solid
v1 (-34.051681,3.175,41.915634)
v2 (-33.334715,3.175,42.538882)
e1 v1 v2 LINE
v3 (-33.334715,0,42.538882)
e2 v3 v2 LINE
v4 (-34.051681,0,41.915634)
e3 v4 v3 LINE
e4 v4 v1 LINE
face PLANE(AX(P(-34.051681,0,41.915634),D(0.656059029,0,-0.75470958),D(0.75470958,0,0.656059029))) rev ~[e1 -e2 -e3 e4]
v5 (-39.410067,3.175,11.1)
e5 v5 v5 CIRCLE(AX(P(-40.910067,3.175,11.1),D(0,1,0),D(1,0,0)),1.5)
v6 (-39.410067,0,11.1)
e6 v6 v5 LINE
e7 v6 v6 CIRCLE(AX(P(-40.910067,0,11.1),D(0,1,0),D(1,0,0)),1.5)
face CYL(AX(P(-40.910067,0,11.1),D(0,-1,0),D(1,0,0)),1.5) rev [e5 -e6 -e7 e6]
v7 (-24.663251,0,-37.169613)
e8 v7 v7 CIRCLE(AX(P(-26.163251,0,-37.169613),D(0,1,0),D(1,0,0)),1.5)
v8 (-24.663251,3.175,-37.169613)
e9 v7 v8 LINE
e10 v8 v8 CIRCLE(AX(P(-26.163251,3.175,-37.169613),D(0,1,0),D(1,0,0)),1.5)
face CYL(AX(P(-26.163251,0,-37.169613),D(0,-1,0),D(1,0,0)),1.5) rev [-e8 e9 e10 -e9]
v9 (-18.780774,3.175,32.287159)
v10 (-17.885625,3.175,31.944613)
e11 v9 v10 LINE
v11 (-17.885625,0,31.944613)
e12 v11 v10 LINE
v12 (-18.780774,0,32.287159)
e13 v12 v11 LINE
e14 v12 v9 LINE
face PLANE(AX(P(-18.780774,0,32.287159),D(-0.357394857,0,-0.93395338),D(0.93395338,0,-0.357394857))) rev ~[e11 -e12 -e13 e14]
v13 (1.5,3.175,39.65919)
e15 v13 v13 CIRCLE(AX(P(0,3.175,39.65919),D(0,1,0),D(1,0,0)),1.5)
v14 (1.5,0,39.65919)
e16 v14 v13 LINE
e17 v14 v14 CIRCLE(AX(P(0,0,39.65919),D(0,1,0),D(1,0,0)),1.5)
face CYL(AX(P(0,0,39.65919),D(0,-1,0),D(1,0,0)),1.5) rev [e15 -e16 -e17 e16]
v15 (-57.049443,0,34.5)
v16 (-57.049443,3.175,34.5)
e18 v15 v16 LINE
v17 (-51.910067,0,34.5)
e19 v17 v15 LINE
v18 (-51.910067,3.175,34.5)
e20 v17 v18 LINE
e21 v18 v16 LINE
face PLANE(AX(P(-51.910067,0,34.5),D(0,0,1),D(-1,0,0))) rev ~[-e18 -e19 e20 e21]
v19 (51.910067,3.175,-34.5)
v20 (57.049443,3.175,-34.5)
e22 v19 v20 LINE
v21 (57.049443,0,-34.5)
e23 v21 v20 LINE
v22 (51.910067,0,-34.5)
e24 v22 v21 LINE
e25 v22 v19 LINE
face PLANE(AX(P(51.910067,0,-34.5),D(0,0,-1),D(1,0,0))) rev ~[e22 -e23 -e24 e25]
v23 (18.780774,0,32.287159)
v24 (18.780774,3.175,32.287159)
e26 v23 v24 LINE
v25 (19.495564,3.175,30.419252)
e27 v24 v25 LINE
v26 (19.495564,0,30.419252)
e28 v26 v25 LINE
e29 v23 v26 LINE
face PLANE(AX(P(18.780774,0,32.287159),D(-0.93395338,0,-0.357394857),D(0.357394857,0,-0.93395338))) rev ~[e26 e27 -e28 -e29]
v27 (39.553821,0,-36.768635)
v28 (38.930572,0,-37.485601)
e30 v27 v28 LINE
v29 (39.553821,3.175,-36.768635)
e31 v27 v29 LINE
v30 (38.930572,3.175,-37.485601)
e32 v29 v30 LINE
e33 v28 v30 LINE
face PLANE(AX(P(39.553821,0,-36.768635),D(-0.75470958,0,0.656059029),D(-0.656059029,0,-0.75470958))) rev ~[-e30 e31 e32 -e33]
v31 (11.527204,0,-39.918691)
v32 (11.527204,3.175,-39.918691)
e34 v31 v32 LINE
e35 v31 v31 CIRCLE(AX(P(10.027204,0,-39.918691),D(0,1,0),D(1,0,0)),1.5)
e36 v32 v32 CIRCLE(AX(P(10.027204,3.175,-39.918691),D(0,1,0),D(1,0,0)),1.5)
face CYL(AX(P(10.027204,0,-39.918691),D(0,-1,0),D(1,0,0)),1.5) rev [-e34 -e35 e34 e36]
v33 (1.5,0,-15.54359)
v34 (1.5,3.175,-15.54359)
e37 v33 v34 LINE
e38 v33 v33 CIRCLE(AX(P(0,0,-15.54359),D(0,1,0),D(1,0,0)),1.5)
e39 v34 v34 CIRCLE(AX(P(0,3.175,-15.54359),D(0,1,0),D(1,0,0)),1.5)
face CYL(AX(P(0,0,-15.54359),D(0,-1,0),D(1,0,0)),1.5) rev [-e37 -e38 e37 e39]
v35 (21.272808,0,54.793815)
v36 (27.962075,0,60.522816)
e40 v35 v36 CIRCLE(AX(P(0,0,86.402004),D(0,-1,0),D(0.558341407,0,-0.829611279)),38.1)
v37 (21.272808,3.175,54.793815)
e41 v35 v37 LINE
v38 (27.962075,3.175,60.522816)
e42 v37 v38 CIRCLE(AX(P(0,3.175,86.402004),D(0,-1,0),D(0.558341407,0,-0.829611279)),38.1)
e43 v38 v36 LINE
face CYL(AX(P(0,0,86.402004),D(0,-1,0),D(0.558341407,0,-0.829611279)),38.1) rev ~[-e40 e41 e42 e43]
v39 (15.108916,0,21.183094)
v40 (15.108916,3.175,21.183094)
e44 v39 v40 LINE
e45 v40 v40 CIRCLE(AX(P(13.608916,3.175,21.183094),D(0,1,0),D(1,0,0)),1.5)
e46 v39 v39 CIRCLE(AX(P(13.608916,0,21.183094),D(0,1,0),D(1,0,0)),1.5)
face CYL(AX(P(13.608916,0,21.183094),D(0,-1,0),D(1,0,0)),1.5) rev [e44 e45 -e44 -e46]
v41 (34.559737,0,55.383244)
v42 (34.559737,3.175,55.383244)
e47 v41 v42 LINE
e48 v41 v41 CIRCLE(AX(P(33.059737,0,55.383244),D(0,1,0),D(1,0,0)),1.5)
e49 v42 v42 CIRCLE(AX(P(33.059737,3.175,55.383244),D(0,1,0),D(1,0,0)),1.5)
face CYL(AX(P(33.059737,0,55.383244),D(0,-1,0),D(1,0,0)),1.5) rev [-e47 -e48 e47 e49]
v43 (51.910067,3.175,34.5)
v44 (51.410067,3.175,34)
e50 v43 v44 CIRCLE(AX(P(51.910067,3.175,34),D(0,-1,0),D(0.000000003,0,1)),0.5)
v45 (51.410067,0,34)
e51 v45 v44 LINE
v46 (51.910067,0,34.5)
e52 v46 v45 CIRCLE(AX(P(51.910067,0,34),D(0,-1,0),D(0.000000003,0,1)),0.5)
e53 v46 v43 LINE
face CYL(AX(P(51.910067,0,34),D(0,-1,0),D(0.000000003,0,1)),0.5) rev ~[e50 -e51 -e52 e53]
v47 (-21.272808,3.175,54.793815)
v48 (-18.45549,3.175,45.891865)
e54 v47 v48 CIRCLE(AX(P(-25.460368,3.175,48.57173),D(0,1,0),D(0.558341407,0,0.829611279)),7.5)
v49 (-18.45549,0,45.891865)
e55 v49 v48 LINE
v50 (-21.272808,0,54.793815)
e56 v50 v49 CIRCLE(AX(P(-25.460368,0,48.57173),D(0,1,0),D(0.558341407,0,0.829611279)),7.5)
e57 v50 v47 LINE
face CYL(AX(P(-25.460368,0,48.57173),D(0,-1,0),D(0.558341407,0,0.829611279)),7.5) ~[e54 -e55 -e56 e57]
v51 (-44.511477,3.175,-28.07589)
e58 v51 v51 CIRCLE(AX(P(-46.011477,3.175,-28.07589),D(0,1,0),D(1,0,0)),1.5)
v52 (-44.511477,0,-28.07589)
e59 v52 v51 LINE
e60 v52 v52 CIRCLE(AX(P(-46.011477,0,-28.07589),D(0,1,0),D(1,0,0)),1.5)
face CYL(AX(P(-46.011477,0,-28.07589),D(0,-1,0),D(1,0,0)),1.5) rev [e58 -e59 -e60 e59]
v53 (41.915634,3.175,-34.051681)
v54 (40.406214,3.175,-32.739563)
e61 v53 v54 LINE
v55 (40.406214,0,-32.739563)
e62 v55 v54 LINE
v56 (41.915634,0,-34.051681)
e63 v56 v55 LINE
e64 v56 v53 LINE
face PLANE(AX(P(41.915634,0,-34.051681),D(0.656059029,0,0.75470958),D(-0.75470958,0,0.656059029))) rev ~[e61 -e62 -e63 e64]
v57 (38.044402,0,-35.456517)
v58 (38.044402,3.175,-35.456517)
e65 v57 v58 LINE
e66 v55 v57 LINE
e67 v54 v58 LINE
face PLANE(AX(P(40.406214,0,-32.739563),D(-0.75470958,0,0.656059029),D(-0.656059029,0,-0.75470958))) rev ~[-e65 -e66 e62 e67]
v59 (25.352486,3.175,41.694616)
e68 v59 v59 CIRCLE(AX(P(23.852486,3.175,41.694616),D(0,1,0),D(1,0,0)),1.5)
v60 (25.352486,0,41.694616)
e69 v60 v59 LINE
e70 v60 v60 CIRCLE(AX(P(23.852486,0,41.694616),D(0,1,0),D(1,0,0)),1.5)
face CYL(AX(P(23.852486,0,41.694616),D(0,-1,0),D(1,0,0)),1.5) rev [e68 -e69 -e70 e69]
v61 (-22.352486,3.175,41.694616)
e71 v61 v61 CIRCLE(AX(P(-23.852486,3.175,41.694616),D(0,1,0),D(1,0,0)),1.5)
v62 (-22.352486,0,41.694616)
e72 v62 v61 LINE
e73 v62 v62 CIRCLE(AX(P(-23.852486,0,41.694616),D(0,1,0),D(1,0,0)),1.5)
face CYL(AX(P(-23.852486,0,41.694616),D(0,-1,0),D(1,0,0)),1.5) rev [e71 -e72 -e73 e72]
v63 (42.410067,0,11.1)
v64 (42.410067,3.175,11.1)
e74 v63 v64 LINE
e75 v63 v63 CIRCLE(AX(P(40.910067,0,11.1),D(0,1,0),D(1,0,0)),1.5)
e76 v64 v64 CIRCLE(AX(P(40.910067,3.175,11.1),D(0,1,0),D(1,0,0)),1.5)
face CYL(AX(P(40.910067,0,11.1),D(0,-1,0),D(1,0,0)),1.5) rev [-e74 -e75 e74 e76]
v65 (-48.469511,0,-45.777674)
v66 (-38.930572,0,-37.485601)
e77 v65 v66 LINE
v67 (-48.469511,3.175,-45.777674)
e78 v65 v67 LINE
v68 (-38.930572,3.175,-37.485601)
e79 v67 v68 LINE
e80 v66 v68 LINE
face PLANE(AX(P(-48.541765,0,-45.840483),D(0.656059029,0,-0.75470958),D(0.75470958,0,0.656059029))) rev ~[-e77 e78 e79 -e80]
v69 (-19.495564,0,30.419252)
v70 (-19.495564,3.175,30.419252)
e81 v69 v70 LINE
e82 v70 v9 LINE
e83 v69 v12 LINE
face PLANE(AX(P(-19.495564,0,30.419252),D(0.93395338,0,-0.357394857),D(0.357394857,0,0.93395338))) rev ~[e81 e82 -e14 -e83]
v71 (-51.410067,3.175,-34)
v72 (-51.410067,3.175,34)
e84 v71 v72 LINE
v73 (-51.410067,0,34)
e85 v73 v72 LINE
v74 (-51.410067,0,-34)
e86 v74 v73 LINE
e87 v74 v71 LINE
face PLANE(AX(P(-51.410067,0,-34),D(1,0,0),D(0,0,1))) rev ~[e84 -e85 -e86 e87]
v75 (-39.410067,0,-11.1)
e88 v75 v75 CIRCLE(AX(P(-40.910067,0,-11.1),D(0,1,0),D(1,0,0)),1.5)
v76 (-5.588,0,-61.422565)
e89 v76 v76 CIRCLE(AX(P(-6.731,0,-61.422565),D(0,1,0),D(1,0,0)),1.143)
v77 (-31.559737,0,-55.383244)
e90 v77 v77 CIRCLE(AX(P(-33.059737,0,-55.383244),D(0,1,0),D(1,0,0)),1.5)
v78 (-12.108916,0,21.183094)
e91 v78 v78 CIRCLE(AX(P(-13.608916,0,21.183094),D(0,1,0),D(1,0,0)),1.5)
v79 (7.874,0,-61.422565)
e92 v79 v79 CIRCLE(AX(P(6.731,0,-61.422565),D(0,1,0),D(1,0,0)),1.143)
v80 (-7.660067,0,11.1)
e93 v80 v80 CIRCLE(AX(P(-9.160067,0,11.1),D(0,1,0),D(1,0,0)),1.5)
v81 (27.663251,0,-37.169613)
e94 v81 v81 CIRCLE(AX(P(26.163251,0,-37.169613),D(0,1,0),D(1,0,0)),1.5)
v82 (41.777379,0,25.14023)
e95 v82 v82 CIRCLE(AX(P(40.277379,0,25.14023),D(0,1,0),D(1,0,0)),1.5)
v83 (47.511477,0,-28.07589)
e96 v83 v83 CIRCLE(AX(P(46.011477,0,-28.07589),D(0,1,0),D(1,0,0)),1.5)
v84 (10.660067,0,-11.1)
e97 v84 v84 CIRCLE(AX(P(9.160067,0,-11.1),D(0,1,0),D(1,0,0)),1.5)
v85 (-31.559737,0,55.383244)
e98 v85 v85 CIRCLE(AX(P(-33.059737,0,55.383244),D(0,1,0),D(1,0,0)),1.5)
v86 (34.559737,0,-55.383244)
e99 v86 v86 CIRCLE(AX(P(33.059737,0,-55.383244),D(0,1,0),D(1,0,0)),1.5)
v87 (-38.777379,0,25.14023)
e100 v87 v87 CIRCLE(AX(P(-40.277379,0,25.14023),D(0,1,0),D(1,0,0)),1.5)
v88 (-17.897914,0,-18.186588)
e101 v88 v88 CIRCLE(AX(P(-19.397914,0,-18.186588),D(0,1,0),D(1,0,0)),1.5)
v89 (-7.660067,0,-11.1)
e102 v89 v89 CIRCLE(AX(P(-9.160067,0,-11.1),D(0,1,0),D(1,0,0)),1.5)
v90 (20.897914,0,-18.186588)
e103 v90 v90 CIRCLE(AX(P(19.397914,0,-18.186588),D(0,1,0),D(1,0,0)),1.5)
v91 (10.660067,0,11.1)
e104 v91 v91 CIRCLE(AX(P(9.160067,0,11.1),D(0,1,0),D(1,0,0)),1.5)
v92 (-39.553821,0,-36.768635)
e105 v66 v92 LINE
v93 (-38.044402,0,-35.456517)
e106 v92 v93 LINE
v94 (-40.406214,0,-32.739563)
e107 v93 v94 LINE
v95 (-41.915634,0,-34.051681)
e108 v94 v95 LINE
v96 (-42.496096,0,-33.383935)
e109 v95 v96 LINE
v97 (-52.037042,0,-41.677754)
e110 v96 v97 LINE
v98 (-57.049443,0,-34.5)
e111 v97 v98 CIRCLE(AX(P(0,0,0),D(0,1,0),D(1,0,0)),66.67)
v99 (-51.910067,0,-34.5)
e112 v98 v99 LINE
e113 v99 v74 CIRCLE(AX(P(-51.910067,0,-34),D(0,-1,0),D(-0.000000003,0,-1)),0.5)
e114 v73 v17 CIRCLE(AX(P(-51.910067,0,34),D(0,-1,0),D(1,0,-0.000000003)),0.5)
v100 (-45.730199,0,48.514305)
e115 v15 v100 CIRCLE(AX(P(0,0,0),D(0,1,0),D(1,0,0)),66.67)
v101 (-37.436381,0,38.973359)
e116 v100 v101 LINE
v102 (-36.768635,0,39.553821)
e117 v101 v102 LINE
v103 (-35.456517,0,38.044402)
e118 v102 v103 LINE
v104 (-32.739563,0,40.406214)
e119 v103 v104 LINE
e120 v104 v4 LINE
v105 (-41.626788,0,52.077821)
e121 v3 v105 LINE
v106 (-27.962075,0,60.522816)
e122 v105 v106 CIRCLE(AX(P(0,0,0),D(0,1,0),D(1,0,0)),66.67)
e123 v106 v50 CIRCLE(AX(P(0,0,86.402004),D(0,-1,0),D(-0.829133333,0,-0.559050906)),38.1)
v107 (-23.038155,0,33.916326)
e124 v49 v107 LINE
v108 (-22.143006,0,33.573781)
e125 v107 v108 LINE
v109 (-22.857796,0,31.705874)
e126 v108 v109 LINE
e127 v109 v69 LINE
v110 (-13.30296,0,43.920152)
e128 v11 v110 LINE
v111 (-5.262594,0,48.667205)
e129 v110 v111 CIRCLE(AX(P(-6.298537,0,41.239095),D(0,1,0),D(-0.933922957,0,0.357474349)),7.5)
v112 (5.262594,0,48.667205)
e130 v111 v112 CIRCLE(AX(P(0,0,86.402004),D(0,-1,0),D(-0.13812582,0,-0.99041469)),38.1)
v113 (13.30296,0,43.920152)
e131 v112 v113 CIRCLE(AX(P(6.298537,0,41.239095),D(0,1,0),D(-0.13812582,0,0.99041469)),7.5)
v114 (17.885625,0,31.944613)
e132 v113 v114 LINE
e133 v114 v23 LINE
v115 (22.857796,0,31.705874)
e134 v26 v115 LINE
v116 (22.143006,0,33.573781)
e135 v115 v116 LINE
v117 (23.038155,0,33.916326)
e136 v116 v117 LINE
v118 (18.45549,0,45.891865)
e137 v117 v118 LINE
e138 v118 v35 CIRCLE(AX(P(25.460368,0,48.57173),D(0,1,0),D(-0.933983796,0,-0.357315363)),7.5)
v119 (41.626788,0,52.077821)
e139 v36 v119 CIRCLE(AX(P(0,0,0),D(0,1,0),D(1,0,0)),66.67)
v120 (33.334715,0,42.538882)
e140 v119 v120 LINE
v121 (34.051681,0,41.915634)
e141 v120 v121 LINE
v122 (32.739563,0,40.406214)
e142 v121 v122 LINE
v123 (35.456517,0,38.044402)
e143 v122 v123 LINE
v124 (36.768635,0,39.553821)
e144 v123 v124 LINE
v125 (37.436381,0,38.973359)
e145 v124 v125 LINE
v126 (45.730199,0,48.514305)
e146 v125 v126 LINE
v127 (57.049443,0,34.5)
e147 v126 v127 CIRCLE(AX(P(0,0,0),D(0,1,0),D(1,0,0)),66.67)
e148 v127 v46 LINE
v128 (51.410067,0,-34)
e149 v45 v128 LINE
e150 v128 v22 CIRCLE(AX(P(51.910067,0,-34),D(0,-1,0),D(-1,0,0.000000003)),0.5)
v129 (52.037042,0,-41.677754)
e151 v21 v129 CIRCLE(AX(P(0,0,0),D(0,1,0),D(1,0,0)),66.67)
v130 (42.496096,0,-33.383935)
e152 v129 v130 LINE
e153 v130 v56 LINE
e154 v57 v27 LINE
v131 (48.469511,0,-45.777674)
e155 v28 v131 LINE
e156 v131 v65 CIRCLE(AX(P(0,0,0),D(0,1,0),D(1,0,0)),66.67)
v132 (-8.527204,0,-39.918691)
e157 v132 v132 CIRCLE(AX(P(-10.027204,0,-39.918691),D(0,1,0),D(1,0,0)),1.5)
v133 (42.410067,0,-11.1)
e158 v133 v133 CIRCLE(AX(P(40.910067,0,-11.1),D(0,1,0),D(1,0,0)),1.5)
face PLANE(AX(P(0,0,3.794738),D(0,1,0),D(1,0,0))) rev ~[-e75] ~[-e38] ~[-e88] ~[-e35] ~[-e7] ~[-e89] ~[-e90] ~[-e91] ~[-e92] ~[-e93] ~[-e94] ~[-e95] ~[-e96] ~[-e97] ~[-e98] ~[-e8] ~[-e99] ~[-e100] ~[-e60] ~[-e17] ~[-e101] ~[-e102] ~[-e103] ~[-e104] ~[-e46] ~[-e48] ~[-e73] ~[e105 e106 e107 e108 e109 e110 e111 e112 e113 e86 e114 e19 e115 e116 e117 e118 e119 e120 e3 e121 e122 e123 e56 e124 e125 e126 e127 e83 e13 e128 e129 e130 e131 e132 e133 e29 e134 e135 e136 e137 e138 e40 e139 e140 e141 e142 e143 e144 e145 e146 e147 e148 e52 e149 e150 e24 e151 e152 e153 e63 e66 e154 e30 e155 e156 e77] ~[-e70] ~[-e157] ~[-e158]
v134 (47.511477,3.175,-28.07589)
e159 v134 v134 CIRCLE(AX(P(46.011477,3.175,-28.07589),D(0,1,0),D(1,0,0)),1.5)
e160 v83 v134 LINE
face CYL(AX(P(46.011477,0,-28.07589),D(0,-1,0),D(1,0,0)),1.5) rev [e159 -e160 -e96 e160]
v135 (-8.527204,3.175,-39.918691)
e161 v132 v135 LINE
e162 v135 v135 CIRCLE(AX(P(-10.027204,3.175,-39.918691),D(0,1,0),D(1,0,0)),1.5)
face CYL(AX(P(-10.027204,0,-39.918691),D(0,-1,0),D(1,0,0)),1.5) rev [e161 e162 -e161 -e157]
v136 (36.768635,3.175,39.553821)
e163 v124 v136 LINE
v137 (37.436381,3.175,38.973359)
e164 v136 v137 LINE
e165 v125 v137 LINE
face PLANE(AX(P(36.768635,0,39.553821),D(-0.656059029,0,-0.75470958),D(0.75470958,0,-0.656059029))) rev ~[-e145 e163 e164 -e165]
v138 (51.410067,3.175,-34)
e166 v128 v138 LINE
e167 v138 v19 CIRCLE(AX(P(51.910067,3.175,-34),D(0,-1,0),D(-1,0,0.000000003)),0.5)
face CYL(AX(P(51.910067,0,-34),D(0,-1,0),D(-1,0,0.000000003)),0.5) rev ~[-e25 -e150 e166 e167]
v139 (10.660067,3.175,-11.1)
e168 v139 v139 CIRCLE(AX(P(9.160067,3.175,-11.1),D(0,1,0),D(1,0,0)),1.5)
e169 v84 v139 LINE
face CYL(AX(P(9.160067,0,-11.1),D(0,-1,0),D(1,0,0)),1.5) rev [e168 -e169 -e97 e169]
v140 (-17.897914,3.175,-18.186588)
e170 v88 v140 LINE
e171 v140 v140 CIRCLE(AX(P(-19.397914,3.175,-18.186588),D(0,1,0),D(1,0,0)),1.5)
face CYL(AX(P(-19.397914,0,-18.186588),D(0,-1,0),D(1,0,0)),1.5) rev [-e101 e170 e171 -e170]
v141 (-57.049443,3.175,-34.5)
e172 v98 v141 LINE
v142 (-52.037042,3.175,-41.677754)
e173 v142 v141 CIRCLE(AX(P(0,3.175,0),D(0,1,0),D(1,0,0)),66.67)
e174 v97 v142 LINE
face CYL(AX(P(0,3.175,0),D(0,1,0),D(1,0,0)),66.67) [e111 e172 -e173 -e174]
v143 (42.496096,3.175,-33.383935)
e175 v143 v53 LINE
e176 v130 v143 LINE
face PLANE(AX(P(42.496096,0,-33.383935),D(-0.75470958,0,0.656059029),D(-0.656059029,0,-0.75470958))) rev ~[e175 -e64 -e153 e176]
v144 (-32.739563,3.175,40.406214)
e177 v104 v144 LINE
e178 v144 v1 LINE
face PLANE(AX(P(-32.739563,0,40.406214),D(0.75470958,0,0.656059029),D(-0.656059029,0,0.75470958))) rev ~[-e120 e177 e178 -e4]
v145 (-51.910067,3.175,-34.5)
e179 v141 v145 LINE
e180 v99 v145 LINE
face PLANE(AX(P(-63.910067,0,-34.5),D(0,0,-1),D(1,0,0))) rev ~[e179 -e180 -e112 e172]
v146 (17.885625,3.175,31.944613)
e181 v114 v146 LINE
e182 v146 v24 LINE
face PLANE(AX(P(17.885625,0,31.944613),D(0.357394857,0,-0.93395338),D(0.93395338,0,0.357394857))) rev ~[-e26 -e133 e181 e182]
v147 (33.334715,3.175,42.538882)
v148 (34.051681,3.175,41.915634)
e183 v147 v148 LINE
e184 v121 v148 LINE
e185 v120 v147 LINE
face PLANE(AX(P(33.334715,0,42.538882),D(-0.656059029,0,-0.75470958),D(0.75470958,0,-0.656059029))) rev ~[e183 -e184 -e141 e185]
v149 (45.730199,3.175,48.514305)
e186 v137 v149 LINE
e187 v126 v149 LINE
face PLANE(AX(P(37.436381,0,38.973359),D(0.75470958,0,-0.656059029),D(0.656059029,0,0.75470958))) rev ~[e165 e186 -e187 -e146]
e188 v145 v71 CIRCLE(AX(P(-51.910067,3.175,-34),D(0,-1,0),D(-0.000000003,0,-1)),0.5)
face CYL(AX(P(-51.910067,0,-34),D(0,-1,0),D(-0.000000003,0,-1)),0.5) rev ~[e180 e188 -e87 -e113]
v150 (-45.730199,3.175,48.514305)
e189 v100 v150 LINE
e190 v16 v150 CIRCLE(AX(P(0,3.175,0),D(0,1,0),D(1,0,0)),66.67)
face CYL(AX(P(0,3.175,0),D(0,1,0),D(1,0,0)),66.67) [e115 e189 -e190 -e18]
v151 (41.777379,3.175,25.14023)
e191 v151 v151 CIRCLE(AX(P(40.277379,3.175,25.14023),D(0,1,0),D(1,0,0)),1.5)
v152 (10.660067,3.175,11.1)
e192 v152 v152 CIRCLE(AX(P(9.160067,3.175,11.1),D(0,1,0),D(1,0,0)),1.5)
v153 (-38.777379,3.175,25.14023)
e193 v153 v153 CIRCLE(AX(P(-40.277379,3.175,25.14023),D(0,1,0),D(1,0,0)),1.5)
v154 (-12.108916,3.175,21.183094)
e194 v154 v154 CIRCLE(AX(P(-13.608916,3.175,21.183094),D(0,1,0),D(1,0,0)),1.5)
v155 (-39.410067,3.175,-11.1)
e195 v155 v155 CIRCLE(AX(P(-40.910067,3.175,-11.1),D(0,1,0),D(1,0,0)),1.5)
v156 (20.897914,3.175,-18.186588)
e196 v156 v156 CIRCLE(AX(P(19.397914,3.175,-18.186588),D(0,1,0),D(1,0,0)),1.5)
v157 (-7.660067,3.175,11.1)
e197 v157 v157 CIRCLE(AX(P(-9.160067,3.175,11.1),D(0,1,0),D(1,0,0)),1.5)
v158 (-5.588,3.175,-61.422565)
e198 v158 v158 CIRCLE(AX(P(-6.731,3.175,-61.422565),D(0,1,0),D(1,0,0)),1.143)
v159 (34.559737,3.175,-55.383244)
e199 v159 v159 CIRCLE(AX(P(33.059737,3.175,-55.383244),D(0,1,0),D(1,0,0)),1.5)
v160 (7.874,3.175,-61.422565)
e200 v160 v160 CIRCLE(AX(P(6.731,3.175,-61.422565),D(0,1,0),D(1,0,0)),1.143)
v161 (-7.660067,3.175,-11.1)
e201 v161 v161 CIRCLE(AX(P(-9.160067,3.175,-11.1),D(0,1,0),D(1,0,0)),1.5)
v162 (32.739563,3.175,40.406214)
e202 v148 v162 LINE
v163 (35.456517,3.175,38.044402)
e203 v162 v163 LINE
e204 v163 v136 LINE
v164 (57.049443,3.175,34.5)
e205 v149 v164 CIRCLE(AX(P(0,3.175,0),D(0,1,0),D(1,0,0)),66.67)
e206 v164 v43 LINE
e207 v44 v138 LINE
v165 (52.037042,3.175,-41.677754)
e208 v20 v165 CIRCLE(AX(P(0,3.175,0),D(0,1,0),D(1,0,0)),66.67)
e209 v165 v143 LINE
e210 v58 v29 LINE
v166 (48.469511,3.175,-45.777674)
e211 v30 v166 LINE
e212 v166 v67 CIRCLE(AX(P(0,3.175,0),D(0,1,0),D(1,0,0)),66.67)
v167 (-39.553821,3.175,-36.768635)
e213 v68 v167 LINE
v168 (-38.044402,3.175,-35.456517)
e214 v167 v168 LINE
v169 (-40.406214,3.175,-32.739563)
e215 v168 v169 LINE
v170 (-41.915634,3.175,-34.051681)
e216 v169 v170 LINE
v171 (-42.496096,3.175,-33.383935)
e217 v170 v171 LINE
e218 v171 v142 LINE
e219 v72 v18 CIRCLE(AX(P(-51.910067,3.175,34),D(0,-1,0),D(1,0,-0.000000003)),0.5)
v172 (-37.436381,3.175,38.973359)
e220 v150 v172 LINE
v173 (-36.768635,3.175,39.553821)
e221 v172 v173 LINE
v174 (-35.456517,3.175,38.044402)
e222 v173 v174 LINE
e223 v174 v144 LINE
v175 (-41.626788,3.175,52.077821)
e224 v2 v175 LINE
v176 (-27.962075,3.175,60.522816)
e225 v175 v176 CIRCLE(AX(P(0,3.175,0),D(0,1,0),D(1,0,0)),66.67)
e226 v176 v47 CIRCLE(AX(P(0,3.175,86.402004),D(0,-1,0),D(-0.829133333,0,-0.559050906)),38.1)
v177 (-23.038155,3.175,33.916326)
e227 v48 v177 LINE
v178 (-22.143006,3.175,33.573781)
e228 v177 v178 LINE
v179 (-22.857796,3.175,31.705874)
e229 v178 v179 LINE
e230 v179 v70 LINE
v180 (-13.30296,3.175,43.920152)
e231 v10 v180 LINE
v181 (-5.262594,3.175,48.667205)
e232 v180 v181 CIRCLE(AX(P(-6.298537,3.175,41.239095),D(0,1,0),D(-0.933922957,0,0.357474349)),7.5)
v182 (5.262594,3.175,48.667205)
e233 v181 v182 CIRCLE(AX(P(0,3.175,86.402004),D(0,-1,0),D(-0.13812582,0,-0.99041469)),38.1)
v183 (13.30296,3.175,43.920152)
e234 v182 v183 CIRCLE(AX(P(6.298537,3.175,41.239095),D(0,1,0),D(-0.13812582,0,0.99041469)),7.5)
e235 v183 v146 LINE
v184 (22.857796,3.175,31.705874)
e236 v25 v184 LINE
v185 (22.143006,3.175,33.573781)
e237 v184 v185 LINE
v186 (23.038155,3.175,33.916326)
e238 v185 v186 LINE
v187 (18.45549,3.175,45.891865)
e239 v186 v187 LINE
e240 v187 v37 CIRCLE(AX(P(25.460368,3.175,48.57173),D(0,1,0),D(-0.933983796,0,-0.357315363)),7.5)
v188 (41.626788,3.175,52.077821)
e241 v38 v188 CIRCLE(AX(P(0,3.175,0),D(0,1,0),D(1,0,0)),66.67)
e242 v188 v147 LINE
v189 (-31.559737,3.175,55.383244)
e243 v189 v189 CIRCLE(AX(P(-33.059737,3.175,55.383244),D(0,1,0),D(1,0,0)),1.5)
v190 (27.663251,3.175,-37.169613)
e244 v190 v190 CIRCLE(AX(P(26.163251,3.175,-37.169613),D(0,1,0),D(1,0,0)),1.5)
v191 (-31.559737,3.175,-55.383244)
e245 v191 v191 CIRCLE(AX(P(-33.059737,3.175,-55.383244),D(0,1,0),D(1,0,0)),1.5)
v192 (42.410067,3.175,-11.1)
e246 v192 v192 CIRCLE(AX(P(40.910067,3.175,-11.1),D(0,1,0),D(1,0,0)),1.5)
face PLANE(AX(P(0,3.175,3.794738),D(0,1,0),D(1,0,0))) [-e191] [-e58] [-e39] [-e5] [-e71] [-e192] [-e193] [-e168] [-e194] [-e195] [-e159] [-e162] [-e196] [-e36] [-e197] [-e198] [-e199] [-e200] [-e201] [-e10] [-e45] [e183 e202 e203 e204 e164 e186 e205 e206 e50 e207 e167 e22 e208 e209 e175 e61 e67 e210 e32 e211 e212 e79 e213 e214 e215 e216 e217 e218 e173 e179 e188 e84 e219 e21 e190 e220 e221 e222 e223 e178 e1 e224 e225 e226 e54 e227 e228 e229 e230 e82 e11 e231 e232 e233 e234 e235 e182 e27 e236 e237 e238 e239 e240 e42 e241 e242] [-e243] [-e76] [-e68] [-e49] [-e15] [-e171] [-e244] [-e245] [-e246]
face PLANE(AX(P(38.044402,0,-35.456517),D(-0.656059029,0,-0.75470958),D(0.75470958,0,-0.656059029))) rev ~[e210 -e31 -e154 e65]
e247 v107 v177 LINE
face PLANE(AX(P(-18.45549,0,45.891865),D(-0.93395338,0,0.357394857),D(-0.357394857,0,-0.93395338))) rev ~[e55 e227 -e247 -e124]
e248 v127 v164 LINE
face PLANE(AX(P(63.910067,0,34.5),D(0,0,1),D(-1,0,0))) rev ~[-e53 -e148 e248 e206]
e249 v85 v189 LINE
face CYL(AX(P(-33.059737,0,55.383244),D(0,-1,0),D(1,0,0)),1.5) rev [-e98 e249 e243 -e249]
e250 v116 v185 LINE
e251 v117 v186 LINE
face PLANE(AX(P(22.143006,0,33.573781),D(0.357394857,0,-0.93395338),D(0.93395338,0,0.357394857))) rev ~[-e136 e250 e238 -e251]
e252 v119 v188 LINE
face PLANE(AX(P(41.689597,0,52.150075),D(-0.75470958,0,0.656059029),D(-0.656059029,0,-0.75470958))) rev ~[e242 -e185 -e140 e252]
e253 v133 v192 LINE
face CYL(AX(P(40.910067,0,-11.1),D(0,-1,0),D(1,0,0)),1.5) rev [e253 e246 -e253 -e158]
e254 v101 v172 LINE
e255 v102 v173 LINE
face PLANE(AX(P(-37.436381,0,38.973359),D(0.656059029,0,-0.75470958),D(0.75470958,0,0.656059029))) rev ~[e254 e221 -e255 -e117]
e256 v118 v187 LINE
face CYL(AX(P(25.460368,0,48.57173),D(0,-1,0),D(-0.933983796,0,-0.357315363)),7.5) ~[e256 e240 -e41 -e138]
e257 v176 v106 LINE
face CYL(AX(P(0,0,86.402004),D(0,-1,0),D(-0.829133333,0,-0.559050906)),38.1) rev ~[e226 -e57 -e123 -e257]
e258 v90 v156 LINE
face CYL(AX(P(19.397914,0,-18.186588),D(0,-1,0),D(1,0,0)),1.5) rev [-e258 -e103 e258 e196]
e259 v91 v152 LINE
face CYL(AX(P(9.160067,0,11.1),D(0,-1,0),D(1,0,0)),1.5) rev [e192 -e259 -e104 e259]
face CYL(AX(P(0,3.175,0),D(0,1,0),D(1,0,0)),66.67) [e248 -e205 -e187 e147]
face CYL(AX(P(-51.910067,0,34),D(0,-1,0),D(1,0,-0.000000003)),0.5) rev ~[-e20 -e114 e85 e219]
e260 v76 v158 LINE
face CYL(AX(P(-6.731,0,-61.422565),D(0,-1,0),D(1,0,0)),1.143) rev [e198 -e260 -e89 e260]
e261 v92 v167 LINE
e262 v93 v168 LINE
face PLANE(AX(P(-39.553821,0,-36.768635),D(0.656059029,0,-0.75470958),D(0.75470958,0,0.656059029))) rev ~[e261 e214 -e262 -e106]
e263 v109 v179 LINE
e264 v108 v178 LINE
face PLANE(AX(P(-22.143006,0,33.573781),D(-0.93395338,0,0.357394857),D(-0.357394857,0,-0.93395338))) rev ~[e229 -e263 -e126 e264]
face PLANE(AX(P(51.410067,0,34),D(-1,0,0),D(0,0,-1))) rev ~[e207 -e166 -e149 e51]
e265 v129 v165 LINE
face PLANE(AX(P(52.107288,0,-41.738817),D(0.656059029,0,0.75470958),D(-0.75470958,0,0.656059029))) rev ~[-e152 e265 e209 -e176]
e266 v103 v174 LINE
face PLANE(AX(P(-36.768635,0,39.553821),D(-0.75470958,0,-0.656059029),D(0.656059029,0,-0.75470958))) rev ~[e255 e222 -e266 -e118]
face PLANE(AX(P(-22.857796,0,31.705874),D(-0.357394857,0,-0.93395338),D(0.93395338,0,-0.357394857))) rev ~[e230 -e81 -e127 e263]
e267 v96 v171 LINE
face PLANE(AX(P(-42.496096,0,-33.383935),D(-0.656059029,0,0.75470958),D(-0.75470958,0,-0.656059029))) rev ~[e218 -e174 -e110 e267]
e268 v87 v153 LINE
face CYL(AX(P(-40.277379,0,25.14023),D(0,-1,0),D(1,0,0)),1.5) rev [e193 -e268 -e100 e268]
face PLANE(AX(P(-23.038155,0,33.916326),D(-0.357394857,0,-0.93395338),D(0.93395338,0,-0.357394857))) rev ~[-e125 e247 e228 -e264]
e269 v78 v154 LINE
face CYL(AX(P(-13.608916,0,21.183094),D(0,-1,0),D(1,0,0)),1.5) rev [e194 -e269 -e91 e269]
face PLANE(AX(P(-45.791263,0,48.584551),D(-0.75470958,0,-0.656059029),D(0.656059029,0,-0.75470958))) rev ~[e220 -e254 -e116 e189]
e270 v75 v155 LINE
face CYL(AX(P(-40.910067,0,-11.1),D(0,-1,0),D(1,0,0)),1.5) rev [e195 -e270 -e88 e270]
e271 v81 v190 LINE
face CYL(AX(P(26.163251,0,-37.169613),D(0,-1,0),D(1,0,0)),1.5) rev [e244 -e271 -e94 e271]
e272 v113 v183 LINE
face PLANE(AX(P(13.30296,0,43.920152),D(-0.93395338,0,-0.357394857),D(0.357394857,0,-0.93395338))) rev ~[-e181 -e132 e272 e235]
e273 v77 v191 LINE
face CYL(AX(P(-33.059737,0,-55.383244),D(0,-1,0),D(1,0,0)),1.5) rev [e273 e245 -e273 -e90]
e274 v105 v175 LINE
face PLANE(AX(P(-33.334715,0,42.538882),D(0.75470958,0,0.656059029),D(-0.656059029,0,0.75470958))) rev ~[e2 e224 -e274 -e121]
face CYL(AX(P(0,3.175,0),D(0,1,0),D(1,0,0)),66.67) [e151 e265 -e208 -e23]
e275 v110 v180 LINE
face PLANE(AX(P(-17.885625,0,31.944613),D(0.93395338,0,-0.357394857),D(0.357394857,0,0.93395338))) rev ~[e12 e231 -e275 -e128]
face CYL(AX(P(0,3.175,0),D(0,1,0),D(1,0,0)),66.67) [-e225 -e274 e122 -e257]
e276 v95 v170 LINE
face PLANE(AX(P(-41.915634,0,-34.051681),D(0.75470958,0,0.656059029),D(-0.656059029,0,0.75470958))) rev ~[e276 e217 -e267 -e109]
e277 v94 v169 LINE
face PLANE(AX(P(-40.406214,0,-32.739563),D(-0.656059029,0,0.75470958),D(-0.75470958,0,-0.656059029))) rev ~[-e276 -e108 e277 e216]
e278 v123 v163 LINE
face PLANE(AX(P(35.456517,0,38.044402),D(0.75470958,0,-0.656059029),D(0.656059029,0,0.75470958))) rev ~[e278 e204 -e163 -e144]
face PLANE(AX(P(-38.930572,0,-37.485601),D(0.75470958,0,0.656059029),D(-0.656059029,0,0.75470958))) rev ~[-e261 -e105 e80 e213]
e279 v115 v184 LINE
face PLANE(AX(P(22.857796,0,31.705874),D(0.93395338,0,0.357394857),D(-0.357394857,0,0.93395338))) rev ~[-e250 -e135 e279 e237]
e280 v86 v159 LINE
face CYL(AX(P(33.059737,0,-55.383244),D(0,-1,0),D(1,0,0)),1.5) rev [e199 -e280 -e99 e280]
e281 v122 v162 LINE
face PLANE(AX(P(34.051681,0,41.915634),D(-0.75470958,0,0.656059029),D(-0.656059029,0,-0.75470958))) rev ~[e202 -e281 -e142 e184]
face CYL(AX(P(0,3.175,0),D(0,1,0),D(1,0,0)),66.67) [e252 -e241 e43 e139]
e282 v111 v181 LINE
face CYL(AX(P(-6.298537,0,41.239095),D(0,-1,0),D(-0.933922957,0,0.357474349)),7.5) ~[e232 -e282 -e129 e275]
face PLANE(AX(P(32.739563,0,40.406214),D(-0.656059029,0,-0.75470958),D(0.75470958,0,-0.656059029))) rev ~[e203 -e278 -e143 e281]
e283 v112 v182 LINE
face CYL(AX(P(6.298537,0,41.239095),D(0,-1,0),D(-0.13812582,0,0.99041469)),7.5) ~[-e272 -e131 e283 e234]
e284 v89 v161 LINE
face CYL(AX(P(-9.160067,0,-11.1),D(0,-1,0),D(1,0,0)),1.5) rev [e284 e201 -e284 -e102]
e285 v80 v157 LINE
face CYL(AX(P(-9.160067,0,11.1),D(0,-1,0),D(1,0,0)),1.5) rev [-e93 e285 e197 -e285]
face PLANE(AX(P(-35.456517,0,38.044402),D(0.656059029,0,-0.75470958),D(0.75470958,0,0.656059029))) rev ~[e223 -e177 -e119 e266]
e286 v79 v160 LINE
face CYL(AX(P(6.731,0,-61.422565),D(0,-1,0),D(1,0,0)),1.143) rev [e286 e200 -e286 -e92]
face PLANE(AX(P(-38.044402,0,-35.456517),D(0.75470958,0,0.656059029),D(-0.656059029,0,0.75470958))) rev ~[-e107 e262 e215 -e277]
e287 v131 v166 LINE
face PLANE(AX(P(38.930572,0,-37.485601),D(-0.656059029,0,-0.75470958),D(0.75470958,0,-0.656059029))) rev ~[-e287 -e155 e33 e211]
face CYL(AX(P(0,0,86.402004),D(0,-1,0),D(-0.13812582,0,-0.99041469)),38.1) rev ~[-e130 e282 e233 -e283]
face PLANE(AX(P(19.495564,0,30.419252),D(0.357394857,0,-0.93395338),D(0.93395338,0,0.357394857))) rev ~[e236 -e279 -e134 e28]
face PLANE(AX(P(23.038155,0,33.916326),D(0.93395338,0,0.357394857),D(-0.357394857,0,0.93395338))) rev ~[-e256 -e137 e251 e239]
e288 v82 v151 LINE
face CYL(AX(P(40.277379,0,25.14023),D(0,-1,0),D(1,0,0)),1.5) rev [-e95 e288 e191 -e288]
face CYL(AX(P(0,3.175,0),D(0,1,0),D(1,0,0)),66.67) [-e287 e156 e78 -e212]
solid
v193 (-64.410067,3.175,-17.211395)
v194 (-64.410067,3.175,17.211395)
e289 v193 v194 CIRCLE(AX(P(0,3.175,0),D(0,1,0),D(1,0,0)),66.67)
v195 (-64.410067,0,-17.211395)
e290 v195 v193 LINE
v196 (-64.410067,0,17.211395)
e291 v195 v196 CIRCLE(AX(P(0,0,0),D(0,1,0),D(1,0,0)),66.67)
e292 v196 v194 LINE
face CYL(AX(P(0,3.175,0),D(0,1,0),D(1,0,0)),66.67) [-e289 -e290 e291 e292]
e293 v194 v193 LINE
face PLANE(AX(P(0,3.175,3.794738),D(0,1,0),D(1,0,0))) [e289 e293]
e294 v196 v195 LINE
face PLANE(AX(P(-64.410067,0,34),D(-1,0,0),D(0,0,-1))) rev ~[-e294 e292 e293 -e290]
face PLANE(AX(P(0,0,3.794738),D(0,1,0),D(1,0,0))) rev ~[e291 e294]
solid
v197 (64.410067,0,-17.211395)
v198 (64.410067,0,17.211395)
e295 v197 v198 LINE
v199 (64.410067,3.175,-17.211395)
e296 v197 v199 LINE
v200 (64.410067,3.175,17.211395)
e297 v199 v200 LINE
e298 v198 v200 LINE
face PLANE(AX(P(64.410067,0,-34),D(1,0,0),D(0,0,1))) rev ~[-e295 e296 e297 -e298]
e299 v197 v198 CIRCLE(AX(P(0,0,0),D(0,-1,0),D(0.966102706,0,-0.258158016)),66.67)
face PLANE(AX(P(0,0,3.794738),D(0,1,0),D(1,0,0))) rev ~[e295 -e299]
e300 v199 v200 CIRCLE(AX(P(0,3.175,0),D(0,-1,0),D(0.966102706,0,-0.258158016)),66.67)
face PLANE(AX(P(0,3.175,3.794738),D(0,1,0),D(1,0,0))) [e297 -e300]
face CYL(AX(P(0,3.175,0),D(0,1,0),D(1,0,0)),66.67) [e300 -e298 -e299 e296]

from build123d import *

# Parameters (mm, degrees)
SKETCH1_R           = 1.5
SKETCH1_R_2         = 1.143
BOSS_EXTRUDE1_DEPTH = 3.175
SKETCH2_R           = 80.935958151
SKETCH2_R_2         = 66.67
CUT_EXTRUDE1_DEPTH  = 10


with BuildPart() as part:
    # Sketch1 → Boss-Extrude1 (new body)
    with BuildSketch(Plane(origin=(0, 0, 0), x_dir=(1, 0, 0), z_dir=(0, 1, 0))):
        with BuildLine():
            Line((-34.051680938, -41.91563352), (-33.334715323, -42.538882221))
            Line((-33.334715323, -42.538882221), (-41.689597364, -52.150074566))
            ThreePointArc((-41.689597364, -52.150074566), (-43.455441558, -58.16401884), (-40.038526417, -63.418580892))
            ThreePointArc((-40.038526417, -63.418580892), (-37.791118701, -64.782955685), (-35.49727084, -66.067721036))
            ThreePointArc((-35.49727084, -66.067721036), (-33.357679643, -66.33740492), (-31.589980006, -65.102164912))
            ThreePointArc((-31.589980006, -65.102164912), (-26.929242455, -59.449715082), (-21.272807595, -54.79381471))
            ThreePointArc((-21.272807595, -54.79381471), (-18.309924074, -50.834725832), (-18.455489673, -45.891864903))
            Line((-18.455489673, -45.891864903), (-23.038155213, -33.91632612))
            Line((-23.038155213, -33.91632612), (-22.143006255, -33.573780506))
            Line((-22.143006255, -33.573780506), (-22.857795969, -31.705873746))
            Line((-22.857795969, -31.705873746), (-19.4955638, -30.419252261))
            Line((-19.4955638, -30.419252261), (-18.780774086, -32.287159021))
            Line((-18.780774086, -32.287159021), (-17.885625128, -31.944613407))
            Line((-17.885625128, -31.944613407), (-13.302959587, -43.920152189))
            ThreePointArc((-13.302959587, -43.920152189), (-10.111582251, -47.697475872), (-5.262593756, -48.667204744))
            ThreePointArc((-5.262593756, -48.667204744), (0, -48.302004425), (5.262593756, -48.667204744))
            ThreePointArc((5.262593756, -48.667204744), (10.111582251, -47.697475872), (13.302959587, -43.920152189))
            Line((13.302959587, -43.920152189), (17.885625128, -31.944613407))
            Line((17.885625128, -31.944613407), (18.780774086, -32.287159021))
            Line((18.780774086, -32.287159021), (19.4955638, -30.419252261))
            Line((19.4955638, -30.419252261), (22.857795969, -31.705873746))
            Line((22.857795969, -31.705873746), (22.143006255, -33.573780506))
            Line((22.143006255, -33.573780506), (23.038155213, -33.91632612))
            Line((23.038155213, -33.91632612), (18.455489673, -45.891864903))
            ThreePointArc((18.455489673, -45.891864903), (18.309924074, -50.834725832), (21.272807595, -54.79381471))
            ThreePointArc((21.272807595, -54.79381471), (26.929242455, -59.449715082), (31.589980006, -65.102164912))
            ThreePointArc((31.589980006, -65.102164912), (33.357679643, -66.33740492), (35.49727084, -66.067721036))
            ThreePointArc((35.49727084, -66.067721036), (37.791118701, -64.782955685), (40.038526417, -63.418580892))
            ThreePointArc((40.038526417, -63.418580892), (43.455441558, -58.16401884), (41.689597364, -52.150074566))
            Line((41.689597364, -52.150074566), (33.334715323, -42.538882221))
            Line((33.334715323, -42.538882221), (34.051680938, -41.91563352))
            Line((34.051680938, -41.91563352), (32.73956288, -40.40621436))
            Line((32.73956288, -40.40621436), (35.456517369, -38.044401855))
            Line((35.456517369, -38.044401855), (36.768635427, -39.553821016))
            Line((36.768635427, -39.553821016), (37.436380929, -38.973358707))
            Line((37.436380929, -38.973358707), (45.791262658, -48.584550695))
            ThreePointArc((45.791262658, -48.584550695), (51.498800201, -51.177786739), (57.181686783, -48.530966368))
            ThreePointArc((57.181686783, -48.530966368), (74.817303766, -5.23173558), (63.379403673, 40.100513589))
            ThreePointArc((63.379403673, 40.100513589), (58.120188747, 43.512480309), (52.107287817, 41.738817166))
            Line((52.107287817, 41.738817166), (42.496095829, 33.383935436))
            Line((42.496095829, 33.383935436), (41.91563352, 34.051680938))
            Line((41.91563352, 34.051680938), (40.40621436, 32.73956288))
            Line((40.40621436, 32.73956288), (38.044401855, 35.456517369))
            Line((38.044401855, 35.456517369), (39.553821016, 36.768635427))
            Line((39.553821016, 36.768635427), (38.930572315, 37.485601042))
            Line((38.930572315, 37.485601042), (48.541764661, 45.840483082))
            ThreePointArc((48.541764661, 45.840483082), (51.127403054, 51.550142051), (48.475034791, 57.229109743))
            ThreePointArc((48.475034791, 57.229109743), (0, 75), (-48.475034791, 57.229109743))
            ThreePointArc((-48.475034791, 57.229109743), (-51.127403054, 51.550142051), (-48.541764661, 45.840483082))
            Line((-48.541764661, 45.840483082), (-38.930572315, 37.485601042))
            Line((-38.930572315, 37.485601042), (-39.553821016, 36.768635427))
            Line((-39.553821016, 36.768635427), (-38.044401855, 35.456517369))
            Line((-38.044401855, 35.456517369), (-40.40621436, 32.73956288))
            Line((-40.40621436, 32.73956288), (-41.91563352, 34.051680938))
            Line((-41.91563352, 34.051680938), (-42.496095829, 33.383935436))
            Line((-42.496095829, 33.383935436), (-52.107287817, 41.738817166))
            ThreePointArc((-52.107287817, 41.738817166), (-58.120188726, 43.512480312), (-63.379403651, 40.100513624))
            ThreePointArc((-63.379403651, 40.100513624), (-74.817303772, -5.231735496), (-57.181686866, -48.530966271))
            ThreePointArc((-57.181686866, -48.530966271), (-51.498800265, -51.177786738), (-45.791262658, -48.584550695))
            Line((-45.791262658, -48.584550695), (-37.436380929, -38.973358707))
            Line((-37.436380929, -38.973358707), (-36.768635427, -39.553821016))
            Line((-36.768635427, -39.553821016), (-35.456517369, -38.044401855))
            Line((-35.456517369, -38.044401855), (-32.73956288, -40.40621436))
            Line((-32.73956288, -40.40621436), (-34.051680938, -41.91563352))
        make_face()
        with Locations((-33.059737365, -55.383244446)):
            Circle(SKETCH1_R, mode=Mode.SUBTRACT)
        with Locations((-23.852486199, -41.694616163)):
            Circle(SKETCH1_R, mode=Mode.SUBTRACT)
        with Locations((0, -39.659190322)):
            Circle(SKETCH1_R, mode=Mode.SUBTRACT)
        with Locations((-40.277379234, -25.14022965)):
            Circle(SKETCH1_R, mode=Mode.SUBTRACT)
        with BuildLine():
            Line((-51.910067426, -34.5), (-63.910067426, -34.5))
            ThreePointArc((-63.910067426, -34.5), (-64.263620817, -34.353553391), (-64.410067426, -34))
            Line((-64.410067426, -34), (-64.410067426, 34))
            ThreePointArc((-64.410067426, 34), (-64.263620817, 34.353553391), (-63.910067426, 34.5))
            Line((-63.910067426, 34.5), (-51.910067426, 34.5))
            ThreePointArc((-51.910067426, 34.5), (-51.556514035, 34.353553391), (-51.410067426, 34))
            Line((-51.410067426, 34), (-51.410067426, -34))
            ThreePointArc((-51.410067426, -34), (-51.556514035, -34.353553391), (-51.910067426, -34.5))
        make_face(mode=Mode.SUBTRACT)
        with Locations((-40.910067426, -11.1)):
            Circle(SKETCH1_R, mode=Mode.SUBTRACT)
        with Locations((-13.608916499, -21.183093811)):
            Circle(SKETCH1_R, mode=Mode.SUBTRACT)
        with Locations((-9.160067426, -11.1)):
            Circle(SKETCH1_R, mode=Mode.SUBTRACT)
        with Locations((33.059737365, -55.383244446)):
            Circle(SKETCH1_R, mode=Mode.SUBTRACT)
        with Locations((23.852486199, -41.694616163)):
            Circle(SKETCH1_R, mode=Mode.SUBTRACT)
        with Locations((13.608916499, -21.183093811)):
            Circle(SKETCH1_R, mode=Mode.SUBTRACT)
        with Locations((9.160067426, -11.1)):
            Circle(SKETCH1_R, mode=Mode.SUBTRACT)
        with Locations((40.277379234, -25.14022965)):
            Circle(SKETCH1_R, mode=Mode.SUBTRACT)
        with Locations((40.910067426, -11.1)):
            Circle(SKETCH1_R, mode=Mode.SUBTRACT)
        with BuildLine():
            ThreePointArc((51.910067426, -34.5), (51.556514035, -34.353553391), (51.410067426, -34))
            Line((51.410067426, -34), (51.410067426, 34))
            ThreePointArc((51.410067426, 34), (51.556514035, 34.353553391), (51.910067426, 34.5))
            Line((51.910067426, 34.5), (63.910067426, 34.5))
            ThreePointArc((63.910067426, 34.5), (64.263620817, 34.353553391), (64.410067426, 34))
            Line((64.410067426, 34), (64.410067426, -34))
            ThreePointArc((64.410067426, -34), (64.263620817, -34.353553391), (63.910067426, -34.5))
            Line((63.910067426, -34.5), (51.910067426, -34.5))
        make_face(mode=Mode.SUBTRACT)
        with Locations((-40.910067426, 11.1)):
            Circle(SKETCH1_R, mode=Mode.SUBTRACT)
        with Locations((-46.011477091, 28.075890486)):
            Circle(SKETCH1_R, mode=Mode.SUBTRACT)
        with Locations((-19.397913834, 18.186588214)):
            Circle(SKETCH1_R, mode=Mode.SUBTRACT)
        with Locations((-9.160067426, 11.1)):
            Circle(SKETCH1_R, mode=Mode.SUBTRACT)
        with Locations((0, 15.543589551)):
            Circle(SKETCH1_R, mode=Mode.SUBTRACT)
        with Locations((-26.163250867, 37.1696126)):
            Circle(SKETCH1_R, mode=Mode.SUBTRACT)
        with Locations((-33.059737365, 55.383244446)):
            Circle(SKETCH1_R, mode=Mode.SUBTRACT)
        with Locations((-10.027203595, 39.91869143)):
            Circle(SKETCH1_R, mode=Mode.SUBTRACT)
        with Locations((-6.731, 61.422565207)):
            Circle(SKETCH1_R_2, mode=Mode.SUBTRACT)
        with Locations((9.160067426, 11.1)):
            Circle(SKETCH1_R, mode=Mode.SUBTRACT)
        with Locations((19.397913834, 18.186588214)):
            Circle(SKETCH1_R, mode=Mode.SUBTRACT)
        with Locations((26.163250867, 37.1696126)):
            Circle(SKETCH1_R, mode=Mode.SUBTRACT)
        with Locations((40.910067426, 11.1)):
            Circle(SKETCH1_R, mode=Mode.SUBTRACT)
        with Locations((46.011477091, 28.075890486)):
            Circle(SKETCH1_R, mode=Mode.SUBTRACT)
        with Locations((10.027203595, 39.91869143)):
            Circle(SKETCH1_R, mode=Mode.SUBTRACT)
        with Locations((33.059737365, 55.383244446)):
            Circle(SKETCH1_R, mode=Mode.SUBTRACT)
        with Locations((6.731, 61.422565207)):
            Circle(SKETCH1_R_2, mode=Mode.SUBTRACT)
    extrude(amount=BOSS_EXTRUDE1_DEPTH)

    # Sketch2 → Cut-Extrude1 (cut)
    with BuildSketch(Plane(origin=(0, 3.175, 0), x_dir=(1, 0, 0), z_dir=(0, 1, 0))):
        Circle(SKETCH2_R)
        Circle(SKETCH2_R_2, mode=Mode.SUBTRACT)
    extrude(amount=-CUT_EXTRUDE1_DEPTH, mode=Mode.SUBTRACT)


solid = part.part
